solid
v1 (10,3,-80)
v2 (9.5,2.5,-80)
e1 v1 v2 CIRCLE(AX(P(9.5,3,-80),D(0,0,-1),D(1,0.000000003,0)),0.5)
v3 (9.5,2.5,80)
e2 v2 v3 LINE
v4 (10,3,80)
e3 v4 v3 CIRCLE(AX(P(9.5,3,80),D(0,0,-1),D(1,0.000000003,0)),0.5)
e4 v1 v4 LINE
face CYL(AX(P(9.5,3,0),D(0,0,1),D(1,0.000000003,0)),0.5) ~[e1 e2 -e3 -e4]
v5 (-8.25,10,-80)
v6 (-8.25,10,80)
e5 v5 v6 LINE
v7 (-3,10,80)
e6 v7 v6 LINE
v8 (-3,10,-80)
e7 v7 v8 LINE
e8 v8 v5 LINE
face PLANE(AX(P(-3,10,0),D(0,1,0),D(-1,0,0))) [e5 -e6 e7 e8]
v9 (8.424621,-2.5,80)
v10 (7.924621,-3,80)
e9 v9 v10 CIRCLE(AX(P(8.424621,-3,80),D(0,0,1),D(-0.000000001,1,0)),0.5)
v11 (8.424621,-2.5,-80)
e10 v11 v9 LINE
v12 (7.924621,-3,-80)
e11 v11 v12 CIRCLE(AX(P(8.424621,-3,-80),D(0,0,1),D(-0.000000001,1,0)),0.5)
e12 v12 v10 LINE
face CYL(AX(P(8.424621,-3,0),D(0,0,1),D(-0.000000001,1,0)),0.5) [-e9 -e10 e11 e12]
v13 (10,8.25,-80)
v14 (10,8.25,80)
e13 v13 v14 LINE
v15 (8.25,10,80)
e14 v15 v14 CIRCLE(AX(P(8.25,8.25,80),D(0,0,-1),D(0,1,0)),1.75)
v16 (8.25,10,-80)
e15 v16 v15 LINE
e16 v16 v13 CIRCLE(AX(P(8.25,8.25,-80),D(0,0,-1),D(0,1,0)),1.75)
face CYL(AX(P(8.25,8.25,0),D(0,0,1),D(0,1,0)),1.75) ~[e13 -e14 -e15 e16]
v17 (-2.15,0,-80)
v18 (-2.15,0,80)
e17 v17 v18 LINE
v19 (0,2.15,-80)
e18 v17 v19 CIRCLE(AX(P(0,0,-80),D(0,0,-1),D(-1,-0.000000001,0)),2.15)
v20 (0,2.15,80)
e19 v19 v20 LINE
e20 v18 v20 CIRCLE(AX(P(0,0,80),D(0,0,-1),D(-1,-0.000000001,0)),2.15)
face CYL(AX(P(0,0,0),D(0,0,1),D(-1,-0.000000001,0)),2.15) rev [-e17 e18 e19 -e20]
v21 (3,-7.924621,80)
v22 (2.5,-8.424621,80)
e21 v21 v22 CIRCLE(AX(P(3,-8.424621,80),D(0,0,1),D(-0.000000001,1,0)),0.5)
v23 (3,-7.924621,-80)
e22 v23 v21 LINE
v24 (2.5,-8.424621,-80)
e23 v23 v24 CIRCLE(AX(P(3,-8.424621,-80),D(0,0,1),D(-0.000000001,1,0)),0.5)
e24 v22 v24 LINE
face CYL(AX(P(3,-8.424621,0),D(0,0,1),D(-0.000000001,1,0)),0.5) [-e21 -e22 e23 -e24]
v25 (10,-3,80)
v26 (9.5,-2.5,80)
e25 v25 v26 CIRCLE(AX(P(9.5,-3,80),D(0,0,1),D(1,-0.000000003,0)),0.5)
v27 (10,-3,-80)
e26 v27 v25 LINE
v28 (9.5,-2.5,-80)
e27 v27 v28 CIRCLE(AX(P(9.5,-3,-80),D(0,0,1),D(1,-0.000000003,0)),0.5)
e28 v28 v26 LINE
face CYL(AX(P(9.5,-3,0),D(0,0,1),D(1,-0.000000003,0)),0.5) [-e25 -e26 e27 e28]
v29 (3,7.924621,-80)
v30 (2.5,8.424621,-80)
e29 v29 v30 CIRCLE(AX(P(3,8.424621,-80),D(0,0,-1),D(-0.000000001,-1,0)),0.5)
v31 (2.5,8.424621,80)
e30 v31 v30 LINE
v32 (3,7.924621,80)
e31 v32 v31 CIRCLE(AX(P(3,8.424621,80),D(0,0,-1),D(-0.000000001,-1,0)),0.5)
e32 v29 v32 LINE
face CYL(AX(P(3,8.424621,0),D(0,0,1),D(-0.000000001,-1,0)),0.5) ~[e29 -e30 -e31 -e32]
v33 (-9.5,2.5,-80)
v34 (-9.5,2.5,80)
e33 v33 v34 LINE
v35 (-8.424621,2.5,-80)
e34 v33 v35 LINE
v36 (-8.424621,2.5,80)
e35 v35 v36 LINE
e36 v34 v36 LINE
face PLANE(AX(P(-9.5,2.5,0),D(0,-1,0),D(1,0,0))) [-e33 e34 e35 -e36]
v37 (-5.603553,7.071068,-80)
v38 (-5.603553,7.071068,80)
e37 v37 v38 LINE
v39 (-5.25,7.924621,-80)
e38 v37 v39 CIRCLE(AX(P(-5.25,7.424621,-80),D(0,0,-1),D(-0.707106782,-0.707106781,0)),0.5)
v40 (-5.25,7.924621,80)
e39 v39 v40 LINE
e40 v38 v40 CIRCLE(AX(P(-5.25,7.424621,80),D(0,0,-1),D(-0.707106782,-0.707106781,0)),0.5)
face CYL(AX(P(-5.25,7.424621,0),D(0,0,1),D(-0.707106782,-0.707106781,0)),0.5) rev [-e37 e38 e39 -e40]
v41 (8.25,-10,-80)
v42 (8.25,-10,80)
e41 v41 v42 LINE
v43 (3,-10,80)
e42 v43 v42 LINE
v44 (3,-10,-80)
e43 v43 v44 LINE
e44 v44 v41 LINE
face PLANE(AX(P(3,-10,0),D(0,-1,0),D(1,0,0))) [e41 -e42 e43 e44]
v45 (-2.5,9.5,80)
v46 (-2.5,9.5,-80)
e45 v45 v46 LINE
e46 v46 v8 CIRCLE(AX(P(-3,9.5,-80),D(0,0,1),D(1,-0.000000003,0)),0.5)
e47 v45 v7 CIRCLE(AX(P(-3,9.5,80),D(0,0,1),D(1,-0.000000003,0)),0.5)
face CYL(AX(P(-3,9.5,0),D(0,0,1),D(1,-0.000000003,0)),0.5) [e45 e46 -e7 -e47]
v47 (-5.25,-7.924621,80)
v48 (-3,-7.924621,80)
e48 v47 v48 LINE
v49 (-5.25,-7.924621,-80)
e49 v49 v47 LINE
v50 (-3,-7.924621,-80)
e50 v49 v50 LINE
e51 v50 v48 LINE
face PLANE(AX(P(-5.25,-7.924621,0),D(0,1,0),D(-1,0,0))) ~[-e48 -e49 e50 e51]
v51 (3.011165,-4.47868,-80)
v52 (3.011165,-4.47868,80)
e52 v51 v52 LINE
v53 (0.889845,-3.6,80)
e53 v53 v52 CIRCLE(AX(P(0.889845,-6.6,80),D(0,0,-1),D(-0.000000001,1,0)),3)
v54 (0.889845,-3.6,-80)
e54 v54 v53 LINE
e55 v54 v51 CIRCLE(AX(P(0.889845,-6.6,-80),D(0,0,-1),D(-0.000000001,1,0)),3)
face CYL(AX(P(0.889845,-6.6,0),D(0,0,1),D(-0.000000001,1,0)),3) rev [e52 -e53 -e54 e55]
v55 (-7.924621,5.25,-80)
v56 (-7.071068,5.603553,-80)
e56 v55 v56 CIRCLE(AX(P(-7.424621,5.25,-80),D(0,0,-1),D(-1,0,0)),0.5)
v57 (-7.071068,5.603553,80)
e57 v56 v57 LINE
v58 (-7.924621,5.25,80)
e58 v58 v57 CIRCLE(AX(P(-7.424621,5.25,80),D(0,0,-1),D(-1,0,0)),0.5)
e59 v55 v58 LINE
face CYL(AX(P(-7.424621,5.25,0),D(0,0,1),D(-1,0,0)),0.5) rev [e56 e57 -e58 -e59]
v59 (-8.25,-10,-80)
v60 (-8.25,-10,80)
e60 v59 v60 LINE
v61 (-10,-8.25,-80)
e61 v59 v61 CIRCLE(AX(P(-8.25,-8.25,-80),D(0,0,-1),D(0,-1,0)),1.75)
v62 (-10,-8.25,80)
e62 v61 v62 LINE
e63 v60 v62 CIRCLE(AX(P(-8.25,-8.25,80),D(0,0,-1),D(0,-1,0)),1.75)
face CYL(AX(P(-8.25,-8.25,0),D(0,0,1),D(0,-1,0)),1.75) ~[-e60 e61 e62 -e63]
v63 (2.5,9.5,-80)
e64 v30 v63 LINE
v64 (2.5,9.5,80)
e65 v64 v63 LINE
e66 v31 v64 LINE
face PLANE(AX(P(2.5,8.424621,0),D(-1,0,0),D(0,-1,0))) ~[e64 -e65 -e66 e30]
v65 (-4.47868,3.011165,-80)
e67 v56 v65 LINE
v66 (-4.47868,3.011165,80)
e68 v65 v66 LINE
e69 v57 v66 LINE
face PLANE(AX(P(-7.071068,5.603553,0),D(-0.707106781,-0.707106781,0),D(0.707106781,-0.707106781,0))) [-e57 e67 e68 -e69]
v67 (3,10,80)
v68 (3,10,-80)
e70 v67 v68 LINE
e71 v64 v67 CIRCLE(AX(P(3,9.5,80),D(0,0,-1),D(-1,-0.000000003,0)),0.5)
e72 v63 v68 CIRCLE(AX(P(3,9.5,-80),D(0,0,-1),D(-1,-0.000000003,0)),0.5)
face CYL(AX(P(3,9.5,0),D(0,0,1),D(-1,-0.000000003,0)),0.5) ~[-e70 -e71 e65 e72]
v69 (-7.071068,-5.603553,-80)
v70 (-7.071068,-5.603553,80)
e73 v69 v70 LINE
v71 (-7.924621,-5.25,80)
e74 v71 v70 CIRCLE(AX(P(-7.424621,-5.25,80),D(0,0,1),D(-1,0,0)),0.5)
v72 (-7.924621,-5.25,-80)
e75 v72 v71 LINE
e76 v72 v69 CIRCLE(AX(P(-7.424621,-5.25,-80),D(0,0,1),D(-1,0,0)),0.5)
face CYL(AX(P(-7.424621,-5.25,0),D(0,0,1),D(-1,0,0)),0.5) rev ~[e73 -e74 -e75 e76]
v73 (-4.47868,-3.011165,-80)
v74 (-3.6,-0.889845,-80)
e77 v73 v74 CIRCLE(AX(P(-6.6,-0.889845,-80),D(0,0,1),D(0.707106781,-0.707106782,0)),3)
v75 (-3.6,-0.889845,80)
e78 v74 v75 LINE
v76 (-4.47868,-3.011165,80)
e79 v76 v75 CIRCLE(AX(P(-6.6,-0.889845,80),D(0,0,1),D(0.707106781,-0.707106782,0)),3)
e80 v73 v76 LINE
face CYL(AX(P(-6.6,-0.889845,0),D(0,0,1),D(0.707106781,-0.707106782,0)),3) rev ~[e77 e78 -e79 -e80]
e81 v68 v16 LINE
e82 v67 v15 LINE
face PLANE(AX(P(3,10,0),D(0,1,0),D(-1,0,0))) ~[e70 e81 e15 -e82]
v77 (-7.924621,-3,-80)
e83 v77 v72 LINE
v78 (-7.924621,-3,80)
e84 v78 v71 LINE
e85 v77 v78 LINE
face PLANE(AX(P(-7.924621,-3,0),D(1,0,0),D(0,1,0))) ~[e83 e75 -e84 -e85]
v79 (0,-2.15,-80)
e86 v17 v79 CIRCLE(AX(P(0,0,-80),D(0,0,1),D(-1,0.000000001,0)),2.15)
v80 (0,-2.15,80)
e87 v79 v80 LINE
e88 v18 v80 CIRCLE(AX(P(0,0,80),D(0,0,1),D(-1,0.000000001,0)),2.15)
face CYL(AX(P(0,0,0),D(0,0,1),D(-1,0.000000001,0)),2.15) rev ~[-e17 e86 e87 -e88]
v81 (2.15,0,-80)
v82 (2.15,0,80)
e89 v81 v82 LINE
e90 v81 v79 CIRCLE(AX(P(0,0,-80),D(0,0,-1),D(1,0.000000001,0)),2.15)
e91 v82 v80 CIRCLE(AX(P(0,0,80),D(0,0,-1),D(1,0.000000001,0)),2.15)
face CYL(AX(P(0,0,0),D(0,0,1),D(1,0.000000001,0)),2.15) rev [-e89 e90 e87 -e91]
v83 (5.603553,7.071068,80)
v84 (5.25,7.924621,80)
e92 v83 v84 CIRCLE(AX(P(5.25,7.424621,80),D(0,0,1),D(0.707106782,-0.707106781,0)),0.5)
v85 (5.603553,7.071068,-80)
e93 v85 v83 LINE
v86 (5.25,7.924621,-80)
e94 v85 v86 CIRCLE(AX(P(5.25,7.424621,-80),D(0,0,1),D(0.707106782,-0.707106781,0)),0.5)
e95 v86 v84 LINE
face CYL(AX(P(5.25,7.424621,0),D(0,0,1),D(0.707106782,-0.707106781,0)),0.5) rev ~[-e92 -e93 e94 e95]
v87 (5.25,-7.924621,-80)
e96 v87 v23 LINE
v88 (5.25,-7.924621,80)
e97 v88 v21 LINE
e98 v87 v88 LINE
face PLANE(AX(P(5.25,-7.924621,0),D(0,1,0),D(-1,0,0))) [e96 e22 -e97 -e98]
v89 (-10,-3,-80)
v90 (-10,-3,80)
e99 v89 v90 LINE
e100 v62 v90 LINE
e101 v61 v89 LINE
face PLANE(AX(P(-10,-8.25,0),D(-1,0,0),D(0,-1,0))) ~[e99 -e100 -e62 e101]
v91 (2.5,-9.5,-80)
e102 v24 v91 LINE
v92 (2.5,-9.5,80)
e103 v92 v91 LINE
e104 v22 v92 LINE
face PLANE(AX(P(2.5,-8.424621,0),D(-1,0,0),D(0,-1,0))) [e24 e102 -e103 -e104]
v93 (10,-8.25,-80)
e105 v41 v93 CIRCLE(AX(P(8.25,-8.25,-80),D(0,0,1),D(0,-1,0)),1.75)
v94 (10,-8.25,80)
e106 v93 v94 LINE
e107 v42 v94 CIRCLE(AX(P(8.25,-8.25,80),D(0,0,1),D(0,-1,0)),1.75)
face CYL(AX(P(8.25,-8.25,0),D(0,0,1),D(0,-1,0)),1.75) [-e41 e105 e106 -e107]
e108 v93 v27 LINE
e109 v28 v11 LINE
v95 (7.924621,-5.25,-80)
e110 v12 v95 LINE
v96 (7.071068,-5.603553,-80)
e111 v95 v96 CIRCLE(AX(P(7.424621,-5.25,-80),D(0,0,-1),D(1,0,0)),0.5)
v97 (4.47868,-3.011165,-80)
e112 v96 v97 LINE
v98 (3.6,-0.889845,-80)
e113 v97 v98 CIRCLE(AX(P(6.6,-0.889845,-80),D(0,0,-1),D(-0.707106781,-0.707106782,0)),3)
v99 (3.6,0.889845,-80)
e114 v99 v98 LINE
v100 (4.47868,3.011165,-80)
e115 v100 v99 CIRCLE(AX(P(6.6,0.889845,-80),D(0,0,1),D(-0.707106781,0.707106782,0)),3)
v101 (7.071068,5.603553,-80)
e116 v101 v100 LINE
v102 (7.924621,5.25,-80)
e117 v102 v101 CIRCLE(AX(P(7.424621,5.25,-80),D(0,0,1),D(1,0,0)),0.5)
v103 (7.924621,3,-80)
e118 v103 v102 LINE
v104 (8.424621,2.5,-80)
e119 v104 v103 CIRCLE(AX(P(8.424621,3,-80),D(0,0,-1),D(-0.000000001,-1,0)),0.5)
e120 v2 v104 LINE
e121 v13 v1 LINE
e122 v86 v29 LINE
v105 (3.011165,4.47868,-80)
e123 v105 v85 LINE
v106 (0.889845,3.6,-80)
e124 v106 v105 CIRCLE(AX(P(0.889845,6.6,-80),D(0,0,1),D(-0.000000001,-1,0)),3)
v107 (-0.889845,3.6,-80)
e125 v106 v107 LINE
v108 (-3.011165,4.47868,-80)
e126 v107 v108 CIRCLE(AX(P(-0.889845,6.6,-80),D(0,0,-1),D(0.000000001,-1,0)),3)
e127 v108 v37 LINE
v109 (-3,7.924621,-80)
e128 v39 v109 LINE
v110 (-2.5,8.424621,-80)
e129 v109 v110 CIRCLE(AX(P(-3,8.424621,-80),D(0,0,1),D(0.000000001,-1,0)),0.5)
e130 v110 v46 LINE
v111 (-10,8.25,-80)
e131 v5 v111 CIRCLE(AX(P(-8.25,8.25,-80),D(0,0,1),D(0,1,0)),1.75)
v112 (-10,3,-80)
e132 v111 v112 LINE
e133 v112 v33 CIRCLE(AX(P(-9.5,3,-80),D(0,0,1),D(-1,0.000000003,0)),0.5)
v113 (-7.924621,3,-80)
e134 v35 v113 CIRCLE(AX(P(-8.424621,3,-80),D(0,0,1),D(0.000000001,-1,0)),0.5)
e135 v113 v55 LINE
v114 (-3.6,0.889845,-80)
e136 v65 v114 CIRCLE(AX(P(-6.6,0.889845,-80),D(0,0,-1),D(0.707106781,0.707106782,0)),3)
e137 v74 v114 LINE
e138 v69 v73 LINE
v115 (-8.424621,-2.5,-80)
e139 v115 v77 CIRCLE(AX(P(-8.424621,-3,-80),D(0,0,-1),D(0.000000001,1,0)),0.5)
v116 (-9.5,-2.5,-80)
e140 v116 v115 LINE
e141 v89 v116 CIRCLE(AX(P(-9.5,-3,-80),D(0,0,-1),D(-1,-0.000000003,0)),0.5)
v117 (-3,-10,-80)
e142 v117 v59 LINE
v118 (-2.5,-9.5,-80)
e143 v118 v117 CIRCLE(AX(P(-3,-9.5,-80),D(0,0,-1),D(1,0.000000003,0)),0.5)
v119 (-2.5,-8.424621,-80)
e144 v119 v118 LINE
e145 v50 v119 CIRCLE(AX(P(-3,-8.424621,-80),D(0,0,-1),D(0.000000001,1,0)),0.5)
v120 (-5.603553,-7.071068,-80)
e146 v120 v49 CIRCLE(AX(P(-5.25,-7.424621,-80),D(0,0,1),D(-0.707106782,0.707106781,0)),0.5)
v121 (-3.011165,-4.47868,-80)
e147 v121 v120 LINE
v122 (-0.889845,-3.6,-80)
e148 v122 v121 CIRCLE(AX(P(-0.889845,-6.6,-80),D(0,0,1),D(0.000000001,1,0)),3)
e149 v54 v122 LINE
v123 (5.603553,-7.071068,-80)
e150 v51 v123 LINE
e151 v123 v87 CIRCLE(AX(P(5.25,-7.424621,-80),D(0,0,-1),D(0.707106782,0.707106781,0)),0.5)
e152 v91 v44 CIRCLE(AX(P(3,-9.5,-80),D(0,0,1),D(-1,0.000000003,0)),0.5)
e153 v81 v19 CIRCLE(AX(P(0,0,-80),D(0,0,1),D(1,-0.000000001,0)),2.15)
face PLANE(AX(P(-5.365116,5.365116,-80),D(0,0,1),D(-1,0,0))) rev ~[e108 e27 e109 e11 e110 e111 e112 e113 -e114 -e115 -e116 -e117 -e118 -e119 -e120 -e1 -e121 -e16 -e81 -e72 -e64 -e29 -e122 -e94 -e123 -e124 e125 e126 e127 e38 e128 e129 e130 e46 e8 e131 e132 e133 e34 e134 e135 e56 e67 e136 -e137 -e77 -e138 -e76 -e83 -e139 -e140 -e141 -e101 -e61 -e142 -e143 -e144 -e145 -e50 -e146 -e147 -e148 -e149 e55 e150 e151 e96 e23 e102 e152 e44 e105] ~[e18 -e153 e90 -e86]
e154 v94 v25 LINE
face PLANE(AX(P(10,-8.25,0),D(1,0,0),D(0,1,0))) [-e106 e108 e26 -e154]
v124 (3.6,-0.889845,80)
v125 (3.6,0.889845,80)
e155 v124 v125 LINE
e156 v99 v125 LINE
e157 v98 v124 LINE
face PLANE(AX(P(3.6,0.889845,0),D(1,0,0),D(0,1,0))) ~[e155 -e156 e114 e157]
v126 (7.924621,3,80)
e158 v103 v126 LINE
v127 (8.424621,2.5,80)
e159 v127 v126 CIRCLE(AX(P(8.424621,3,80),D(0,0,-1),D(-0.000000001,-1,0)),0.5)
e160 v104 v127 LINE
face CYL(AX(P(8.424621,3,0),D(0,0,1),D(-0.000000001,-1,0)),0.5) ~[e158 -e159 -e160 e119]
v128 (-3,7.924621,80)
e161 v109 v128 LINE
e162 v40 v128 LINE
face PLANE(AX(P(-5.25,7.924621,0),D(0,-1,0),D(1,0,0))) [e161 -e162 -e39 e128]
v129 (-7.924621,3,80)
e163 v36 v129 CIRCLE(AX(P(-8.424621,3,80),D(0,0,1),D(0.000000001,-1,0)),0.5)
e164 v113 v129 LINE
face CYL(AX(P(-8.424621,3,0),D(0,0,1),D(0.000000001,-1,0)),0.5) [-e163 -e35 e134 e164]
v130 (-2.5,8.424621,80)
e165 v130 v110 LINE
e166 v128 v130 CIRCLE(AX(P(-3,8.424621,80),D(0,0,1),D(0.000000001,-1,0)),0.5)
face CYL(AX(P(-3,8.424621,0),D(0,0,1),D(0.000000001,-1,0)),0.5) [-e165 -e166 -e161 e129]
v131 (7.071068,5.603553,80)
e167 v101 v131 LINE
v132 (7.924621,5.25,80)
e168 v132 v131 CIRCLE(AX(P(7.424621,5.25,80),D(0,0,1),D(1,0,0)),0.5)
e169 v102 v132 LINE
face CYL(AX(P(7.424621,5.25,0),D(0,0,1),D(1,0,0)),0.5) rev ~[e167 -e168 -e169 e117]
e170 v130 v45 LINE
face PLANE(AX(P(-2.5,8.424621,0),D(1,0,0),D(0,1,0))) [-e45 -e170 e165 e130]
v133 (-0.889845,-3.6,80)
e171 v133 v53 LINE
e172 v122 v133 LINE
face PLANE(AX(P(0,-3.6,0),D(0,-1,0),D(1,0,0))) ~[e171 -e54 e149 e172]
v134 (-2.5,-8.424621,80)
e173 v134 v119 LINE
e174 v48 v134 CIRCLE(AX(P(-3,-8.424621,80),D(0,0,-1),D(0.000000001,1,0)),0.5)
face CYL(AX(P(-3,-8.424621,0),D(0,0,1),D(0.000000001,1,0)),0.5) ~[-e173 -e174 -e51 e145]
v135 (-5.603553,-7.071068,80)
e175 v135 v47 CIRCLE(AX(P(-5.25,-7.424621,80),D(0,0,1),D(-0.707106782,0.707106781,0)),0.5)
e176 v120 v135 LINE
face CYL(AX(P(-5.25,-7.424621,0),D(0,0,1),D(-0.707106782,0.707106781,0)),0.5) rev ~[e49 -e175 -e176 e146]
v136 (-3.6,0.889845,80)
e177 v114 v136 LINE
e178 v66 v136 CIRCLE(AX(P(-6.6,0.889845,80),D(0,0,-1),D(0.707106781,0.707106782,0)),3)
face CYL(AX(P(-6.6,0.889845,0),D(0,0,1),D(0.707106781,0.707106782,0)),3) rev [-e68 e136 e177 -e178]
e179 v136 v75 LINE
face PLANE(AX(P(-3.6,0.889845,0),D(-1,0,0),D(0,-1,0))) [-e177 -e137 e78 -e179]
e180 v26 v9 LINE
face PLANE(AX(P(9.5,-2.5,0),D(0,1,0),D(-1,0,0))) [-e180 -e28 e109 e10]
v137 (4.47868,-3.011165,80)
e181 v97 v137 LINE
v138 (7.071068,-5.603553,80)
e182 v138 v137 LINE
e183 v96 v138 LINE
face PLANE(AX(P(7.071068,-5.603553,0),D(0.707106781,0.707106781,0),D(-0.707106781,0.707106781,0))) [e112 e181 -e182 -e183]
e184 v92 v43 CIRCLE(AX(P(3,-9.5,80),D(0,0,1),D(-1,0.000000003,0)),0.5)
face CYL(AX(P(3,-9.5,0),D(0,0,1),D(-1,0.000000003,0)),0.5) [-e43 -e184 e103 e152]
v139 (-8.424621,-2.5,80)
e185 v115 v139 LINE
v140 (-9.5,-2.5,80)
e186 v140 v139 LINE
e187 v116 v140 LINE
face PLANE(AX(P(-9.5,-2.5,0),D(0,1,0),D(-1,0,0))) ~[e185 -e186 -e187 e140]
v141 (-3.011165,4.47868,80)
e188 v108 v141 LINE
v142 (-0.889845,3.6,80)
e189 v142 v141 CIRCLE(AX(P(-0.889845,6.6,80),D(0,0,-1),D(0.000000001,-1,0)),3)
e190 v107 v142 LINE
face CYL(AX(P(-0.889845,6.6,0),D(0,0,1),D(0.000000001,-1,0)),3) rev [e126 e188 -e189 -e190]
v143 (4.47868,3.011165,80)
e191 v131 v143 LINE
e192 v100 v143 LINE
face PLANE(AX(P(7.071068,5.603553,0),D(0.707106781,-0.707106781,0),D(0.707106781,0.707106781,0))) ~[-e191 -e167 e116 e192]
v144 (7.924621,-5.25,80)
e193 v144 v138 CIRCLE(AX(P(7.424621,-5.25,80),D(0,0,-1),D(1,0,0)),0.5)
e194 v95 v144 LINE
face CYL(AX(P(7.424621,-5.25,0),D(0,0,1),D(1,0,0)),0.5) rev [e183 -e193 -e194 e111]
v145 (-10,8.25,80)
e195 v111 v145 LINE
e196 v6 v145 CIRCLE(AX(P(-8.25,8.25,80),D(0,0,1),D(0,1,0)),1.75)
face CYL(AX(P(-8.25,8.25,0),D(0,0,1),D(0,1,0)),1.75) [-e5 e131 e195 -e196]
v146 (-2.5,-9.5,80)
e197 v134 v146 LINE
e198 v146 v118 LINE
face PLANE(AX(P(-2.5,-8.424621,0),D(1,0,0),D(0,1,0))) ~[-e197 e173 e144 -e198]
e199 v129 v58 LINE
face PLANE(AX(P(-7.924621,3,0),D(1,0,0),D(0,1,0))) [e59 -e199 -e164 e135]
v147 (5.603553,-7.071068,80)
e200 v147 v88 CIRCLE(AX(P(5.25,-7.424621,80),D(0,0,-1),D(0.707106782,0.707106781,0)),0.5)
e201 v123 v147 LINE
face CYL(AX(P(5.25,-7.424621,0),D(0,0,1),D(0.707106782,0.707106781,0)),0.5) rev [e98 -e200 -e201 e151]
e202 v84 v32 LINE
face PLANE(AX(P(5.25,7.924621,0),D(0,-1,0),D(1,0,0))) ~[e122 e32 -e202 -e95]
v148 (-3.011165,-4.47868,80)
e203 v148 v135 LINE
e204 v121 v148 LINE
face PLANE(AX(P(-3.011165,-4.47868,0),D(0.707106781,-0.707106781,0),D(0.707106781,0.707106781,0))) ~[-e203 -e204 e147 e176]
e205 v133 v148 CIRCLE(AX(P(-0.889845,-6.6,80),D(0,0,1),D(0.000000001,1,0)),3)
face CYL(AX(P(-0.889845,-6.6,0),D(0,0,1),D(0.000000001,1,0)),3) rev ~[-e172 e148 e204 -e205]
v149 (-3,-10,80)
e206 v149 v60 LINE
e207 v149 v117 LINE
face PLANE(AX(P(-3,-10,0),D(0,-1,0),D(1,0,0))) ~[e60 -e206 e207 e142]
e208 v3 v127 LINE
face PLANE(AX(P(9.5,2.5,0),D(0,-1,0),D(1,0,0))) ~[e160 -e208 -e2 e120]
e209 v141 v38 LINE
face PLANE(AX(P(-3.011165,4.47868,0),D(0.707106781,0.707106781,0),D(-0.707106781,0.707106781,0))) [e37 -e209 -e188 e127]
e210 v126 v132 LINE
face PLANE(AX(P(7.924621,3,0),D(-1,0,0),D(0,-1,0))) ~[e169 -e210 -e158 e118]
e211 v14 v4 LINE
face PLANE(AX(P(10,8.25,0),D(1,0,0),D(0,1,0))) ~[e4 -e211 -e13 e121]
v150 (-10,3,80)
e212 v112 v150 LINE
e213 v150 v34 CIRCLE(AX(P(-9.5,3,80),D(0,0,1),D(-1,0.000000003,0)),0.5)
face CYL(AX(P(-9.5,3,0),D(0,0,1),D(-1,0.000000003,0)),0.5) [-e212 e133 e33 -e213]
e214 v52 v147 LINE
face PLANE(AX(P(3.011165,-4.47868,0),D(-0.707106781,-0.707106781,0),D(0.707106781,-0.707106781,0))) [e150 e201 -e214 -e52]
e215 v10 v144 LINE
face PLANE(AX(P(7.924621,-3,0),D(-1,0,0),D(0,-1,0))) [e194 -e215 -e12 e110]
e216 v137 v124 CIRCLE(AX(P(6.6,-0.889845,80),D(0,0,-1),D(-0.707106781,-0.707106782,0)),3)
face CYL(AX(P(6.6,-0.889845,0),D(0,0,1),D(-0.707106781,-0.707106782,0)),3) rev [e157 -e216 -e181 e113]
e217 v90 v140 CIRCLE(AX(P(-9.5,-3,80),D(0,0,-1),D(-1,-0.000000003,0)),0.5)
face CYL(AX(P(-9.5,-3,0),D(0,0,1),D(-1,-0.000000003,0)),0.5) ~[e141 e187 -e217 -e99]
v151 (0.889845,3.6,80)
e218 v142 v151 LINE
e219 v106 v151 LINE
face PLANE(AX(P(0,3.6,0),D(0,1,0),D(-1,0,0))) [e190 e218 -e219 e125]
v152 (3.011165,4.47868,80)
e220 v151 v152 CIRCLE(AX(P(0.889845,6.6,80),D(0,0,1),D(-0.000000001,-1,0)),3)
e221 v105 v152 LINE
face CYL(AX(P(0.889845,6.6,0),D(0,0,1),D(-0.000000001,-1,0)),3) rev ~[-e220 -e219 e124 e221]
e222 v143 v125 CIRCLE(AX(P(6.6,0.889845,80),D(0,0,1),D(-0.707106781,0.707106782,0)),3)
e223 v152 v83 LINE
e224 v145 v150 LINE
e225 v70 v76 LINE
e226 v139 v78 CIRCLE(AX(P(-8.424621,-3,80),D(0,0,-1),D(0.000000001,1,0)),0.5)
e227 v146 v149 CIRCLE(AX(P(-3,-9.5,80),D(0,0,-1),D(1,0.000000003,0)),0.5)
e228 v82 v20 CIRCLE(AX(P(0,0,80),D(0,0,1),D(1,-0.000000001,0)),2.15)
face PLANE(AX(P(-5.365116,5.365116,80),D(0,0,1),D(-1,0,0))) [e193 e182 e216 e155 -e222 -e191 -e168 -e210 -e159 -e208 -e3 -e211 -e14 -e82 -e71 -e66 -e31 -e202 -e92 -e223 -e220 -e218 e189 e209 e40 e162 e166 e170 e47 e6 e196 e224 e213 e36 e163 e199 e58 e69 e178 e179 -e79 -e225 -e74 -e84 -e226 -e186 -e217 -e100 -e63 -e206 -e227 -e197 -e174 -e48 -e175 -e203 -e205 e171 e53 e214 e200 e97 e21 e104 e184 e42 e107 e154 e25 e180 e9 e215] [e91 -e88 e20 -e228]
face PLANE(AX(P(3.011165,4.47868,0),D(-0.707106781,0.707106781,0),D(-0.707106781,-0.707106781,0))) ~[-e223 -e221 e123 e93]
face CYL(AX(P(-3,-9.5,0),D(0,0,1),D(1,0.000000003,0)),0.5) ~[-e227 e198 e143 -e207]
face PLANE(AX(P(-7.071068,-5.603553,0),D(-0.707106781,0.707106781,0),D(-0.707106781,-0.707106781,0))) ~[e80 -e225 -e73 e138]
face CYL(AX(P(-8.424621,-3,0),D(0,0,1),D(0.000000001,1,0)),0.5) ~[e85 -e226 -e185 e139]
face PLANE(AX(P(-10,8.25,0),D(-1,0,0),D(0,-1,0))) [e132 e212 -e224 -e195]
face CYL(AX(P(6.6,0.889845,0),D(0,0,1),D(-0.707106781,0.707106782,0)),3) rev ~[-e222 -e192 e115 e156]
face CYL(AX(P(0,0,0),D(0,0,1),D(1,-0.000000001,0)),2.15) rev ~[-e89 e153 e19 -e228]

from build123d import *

# Parameters (mm, degrees)
BOSS_EXTRUDE1_DEPTH = 80


with BuildPart() as part:
    # Sketch4 → Boss-Extrude1 (new, symmetric)
    with BuildSketch(Plane.XY):
        with BuildLine():
            Line((3, -10), (8.25, -10))
            ThreePointArc((8.25, -10), (9.487436867, -9.487436867), (10, -8.25))
            Line((10, -8.25), (10, -3))
            ThreePointArc((10, -3), (9.853553391, -2.646446609), (9.5, -2.5))
            Line((9.5, -2.5), (8.424621202, -2.5))
            ThreePointArc((8.424621202, -2.5), (8.071067812, -2.646446609), (7.924621202, -3))
            Line((7.924621202, -3), (7.924621202, -5.25))
            ThreePointArc((7.924621202, -5.25), (7.615962919, -5.711939766), (7.071067812, -5.603553391))
            Line((7.071067812, -5.603553391), (4.478679656, -3.011165235))
            ThreePointArc((4.478679656, -3.011165235), (3.828361402, -2.037895189), (3.6, -0.889844892))
            Line((3.6, -0.889844892), (3.6, 0))
            Line((3.6, 0), (2.15, 0))
            ThreePointArc((2.15, 0), (1.52027958, -1.52027958), (0, -2.15))
            Line((0, -2.15), (0, -3.6))
            Line((0, -3.6), (0.889844892, -3.6))
            ThreePointArc((0.889844892, -3.6), (2.037895189, -3.828361402), (3.011165235, -4.478679656))
            Line((3.011165235, -4.478679656), (5.603553391, -7.071067812))
            ThreePointArc((5.603553391, -7.071067812), (5.711939766, -7.615962919), (5.25, -7.924621202))
            Line((5.25, -7.924621202), (3, -7.924621202))
            ThreePointArc((3, -7.924621202), (2.646446609, -8.071067812), (2.5, -8.424621202))
            Line((2.5, -8.424621202), (2.5, -9.5))
            ThreePointArc((2.5, -9.5), (2.646446609, -9.853553391), (3, -10))
        make_face()
    extrude(amount=BOSS_EXTRUDE1_DEPTH, both=True)

    # Mirror1: part across plane


with BuildPart() as part_1:
    add(part.part)
    add(part.part.mirror(Plane(origin=(0, 0, 0), x_dir=(0, 0, 1), z_dir=(1, 0, 0))))

    # Mirror2: part across plane


with BuildPart() as part_2:
    add(part_1.part)
    add(part_1.part.mirror(Plane.ZX))


solid = part_2.part
